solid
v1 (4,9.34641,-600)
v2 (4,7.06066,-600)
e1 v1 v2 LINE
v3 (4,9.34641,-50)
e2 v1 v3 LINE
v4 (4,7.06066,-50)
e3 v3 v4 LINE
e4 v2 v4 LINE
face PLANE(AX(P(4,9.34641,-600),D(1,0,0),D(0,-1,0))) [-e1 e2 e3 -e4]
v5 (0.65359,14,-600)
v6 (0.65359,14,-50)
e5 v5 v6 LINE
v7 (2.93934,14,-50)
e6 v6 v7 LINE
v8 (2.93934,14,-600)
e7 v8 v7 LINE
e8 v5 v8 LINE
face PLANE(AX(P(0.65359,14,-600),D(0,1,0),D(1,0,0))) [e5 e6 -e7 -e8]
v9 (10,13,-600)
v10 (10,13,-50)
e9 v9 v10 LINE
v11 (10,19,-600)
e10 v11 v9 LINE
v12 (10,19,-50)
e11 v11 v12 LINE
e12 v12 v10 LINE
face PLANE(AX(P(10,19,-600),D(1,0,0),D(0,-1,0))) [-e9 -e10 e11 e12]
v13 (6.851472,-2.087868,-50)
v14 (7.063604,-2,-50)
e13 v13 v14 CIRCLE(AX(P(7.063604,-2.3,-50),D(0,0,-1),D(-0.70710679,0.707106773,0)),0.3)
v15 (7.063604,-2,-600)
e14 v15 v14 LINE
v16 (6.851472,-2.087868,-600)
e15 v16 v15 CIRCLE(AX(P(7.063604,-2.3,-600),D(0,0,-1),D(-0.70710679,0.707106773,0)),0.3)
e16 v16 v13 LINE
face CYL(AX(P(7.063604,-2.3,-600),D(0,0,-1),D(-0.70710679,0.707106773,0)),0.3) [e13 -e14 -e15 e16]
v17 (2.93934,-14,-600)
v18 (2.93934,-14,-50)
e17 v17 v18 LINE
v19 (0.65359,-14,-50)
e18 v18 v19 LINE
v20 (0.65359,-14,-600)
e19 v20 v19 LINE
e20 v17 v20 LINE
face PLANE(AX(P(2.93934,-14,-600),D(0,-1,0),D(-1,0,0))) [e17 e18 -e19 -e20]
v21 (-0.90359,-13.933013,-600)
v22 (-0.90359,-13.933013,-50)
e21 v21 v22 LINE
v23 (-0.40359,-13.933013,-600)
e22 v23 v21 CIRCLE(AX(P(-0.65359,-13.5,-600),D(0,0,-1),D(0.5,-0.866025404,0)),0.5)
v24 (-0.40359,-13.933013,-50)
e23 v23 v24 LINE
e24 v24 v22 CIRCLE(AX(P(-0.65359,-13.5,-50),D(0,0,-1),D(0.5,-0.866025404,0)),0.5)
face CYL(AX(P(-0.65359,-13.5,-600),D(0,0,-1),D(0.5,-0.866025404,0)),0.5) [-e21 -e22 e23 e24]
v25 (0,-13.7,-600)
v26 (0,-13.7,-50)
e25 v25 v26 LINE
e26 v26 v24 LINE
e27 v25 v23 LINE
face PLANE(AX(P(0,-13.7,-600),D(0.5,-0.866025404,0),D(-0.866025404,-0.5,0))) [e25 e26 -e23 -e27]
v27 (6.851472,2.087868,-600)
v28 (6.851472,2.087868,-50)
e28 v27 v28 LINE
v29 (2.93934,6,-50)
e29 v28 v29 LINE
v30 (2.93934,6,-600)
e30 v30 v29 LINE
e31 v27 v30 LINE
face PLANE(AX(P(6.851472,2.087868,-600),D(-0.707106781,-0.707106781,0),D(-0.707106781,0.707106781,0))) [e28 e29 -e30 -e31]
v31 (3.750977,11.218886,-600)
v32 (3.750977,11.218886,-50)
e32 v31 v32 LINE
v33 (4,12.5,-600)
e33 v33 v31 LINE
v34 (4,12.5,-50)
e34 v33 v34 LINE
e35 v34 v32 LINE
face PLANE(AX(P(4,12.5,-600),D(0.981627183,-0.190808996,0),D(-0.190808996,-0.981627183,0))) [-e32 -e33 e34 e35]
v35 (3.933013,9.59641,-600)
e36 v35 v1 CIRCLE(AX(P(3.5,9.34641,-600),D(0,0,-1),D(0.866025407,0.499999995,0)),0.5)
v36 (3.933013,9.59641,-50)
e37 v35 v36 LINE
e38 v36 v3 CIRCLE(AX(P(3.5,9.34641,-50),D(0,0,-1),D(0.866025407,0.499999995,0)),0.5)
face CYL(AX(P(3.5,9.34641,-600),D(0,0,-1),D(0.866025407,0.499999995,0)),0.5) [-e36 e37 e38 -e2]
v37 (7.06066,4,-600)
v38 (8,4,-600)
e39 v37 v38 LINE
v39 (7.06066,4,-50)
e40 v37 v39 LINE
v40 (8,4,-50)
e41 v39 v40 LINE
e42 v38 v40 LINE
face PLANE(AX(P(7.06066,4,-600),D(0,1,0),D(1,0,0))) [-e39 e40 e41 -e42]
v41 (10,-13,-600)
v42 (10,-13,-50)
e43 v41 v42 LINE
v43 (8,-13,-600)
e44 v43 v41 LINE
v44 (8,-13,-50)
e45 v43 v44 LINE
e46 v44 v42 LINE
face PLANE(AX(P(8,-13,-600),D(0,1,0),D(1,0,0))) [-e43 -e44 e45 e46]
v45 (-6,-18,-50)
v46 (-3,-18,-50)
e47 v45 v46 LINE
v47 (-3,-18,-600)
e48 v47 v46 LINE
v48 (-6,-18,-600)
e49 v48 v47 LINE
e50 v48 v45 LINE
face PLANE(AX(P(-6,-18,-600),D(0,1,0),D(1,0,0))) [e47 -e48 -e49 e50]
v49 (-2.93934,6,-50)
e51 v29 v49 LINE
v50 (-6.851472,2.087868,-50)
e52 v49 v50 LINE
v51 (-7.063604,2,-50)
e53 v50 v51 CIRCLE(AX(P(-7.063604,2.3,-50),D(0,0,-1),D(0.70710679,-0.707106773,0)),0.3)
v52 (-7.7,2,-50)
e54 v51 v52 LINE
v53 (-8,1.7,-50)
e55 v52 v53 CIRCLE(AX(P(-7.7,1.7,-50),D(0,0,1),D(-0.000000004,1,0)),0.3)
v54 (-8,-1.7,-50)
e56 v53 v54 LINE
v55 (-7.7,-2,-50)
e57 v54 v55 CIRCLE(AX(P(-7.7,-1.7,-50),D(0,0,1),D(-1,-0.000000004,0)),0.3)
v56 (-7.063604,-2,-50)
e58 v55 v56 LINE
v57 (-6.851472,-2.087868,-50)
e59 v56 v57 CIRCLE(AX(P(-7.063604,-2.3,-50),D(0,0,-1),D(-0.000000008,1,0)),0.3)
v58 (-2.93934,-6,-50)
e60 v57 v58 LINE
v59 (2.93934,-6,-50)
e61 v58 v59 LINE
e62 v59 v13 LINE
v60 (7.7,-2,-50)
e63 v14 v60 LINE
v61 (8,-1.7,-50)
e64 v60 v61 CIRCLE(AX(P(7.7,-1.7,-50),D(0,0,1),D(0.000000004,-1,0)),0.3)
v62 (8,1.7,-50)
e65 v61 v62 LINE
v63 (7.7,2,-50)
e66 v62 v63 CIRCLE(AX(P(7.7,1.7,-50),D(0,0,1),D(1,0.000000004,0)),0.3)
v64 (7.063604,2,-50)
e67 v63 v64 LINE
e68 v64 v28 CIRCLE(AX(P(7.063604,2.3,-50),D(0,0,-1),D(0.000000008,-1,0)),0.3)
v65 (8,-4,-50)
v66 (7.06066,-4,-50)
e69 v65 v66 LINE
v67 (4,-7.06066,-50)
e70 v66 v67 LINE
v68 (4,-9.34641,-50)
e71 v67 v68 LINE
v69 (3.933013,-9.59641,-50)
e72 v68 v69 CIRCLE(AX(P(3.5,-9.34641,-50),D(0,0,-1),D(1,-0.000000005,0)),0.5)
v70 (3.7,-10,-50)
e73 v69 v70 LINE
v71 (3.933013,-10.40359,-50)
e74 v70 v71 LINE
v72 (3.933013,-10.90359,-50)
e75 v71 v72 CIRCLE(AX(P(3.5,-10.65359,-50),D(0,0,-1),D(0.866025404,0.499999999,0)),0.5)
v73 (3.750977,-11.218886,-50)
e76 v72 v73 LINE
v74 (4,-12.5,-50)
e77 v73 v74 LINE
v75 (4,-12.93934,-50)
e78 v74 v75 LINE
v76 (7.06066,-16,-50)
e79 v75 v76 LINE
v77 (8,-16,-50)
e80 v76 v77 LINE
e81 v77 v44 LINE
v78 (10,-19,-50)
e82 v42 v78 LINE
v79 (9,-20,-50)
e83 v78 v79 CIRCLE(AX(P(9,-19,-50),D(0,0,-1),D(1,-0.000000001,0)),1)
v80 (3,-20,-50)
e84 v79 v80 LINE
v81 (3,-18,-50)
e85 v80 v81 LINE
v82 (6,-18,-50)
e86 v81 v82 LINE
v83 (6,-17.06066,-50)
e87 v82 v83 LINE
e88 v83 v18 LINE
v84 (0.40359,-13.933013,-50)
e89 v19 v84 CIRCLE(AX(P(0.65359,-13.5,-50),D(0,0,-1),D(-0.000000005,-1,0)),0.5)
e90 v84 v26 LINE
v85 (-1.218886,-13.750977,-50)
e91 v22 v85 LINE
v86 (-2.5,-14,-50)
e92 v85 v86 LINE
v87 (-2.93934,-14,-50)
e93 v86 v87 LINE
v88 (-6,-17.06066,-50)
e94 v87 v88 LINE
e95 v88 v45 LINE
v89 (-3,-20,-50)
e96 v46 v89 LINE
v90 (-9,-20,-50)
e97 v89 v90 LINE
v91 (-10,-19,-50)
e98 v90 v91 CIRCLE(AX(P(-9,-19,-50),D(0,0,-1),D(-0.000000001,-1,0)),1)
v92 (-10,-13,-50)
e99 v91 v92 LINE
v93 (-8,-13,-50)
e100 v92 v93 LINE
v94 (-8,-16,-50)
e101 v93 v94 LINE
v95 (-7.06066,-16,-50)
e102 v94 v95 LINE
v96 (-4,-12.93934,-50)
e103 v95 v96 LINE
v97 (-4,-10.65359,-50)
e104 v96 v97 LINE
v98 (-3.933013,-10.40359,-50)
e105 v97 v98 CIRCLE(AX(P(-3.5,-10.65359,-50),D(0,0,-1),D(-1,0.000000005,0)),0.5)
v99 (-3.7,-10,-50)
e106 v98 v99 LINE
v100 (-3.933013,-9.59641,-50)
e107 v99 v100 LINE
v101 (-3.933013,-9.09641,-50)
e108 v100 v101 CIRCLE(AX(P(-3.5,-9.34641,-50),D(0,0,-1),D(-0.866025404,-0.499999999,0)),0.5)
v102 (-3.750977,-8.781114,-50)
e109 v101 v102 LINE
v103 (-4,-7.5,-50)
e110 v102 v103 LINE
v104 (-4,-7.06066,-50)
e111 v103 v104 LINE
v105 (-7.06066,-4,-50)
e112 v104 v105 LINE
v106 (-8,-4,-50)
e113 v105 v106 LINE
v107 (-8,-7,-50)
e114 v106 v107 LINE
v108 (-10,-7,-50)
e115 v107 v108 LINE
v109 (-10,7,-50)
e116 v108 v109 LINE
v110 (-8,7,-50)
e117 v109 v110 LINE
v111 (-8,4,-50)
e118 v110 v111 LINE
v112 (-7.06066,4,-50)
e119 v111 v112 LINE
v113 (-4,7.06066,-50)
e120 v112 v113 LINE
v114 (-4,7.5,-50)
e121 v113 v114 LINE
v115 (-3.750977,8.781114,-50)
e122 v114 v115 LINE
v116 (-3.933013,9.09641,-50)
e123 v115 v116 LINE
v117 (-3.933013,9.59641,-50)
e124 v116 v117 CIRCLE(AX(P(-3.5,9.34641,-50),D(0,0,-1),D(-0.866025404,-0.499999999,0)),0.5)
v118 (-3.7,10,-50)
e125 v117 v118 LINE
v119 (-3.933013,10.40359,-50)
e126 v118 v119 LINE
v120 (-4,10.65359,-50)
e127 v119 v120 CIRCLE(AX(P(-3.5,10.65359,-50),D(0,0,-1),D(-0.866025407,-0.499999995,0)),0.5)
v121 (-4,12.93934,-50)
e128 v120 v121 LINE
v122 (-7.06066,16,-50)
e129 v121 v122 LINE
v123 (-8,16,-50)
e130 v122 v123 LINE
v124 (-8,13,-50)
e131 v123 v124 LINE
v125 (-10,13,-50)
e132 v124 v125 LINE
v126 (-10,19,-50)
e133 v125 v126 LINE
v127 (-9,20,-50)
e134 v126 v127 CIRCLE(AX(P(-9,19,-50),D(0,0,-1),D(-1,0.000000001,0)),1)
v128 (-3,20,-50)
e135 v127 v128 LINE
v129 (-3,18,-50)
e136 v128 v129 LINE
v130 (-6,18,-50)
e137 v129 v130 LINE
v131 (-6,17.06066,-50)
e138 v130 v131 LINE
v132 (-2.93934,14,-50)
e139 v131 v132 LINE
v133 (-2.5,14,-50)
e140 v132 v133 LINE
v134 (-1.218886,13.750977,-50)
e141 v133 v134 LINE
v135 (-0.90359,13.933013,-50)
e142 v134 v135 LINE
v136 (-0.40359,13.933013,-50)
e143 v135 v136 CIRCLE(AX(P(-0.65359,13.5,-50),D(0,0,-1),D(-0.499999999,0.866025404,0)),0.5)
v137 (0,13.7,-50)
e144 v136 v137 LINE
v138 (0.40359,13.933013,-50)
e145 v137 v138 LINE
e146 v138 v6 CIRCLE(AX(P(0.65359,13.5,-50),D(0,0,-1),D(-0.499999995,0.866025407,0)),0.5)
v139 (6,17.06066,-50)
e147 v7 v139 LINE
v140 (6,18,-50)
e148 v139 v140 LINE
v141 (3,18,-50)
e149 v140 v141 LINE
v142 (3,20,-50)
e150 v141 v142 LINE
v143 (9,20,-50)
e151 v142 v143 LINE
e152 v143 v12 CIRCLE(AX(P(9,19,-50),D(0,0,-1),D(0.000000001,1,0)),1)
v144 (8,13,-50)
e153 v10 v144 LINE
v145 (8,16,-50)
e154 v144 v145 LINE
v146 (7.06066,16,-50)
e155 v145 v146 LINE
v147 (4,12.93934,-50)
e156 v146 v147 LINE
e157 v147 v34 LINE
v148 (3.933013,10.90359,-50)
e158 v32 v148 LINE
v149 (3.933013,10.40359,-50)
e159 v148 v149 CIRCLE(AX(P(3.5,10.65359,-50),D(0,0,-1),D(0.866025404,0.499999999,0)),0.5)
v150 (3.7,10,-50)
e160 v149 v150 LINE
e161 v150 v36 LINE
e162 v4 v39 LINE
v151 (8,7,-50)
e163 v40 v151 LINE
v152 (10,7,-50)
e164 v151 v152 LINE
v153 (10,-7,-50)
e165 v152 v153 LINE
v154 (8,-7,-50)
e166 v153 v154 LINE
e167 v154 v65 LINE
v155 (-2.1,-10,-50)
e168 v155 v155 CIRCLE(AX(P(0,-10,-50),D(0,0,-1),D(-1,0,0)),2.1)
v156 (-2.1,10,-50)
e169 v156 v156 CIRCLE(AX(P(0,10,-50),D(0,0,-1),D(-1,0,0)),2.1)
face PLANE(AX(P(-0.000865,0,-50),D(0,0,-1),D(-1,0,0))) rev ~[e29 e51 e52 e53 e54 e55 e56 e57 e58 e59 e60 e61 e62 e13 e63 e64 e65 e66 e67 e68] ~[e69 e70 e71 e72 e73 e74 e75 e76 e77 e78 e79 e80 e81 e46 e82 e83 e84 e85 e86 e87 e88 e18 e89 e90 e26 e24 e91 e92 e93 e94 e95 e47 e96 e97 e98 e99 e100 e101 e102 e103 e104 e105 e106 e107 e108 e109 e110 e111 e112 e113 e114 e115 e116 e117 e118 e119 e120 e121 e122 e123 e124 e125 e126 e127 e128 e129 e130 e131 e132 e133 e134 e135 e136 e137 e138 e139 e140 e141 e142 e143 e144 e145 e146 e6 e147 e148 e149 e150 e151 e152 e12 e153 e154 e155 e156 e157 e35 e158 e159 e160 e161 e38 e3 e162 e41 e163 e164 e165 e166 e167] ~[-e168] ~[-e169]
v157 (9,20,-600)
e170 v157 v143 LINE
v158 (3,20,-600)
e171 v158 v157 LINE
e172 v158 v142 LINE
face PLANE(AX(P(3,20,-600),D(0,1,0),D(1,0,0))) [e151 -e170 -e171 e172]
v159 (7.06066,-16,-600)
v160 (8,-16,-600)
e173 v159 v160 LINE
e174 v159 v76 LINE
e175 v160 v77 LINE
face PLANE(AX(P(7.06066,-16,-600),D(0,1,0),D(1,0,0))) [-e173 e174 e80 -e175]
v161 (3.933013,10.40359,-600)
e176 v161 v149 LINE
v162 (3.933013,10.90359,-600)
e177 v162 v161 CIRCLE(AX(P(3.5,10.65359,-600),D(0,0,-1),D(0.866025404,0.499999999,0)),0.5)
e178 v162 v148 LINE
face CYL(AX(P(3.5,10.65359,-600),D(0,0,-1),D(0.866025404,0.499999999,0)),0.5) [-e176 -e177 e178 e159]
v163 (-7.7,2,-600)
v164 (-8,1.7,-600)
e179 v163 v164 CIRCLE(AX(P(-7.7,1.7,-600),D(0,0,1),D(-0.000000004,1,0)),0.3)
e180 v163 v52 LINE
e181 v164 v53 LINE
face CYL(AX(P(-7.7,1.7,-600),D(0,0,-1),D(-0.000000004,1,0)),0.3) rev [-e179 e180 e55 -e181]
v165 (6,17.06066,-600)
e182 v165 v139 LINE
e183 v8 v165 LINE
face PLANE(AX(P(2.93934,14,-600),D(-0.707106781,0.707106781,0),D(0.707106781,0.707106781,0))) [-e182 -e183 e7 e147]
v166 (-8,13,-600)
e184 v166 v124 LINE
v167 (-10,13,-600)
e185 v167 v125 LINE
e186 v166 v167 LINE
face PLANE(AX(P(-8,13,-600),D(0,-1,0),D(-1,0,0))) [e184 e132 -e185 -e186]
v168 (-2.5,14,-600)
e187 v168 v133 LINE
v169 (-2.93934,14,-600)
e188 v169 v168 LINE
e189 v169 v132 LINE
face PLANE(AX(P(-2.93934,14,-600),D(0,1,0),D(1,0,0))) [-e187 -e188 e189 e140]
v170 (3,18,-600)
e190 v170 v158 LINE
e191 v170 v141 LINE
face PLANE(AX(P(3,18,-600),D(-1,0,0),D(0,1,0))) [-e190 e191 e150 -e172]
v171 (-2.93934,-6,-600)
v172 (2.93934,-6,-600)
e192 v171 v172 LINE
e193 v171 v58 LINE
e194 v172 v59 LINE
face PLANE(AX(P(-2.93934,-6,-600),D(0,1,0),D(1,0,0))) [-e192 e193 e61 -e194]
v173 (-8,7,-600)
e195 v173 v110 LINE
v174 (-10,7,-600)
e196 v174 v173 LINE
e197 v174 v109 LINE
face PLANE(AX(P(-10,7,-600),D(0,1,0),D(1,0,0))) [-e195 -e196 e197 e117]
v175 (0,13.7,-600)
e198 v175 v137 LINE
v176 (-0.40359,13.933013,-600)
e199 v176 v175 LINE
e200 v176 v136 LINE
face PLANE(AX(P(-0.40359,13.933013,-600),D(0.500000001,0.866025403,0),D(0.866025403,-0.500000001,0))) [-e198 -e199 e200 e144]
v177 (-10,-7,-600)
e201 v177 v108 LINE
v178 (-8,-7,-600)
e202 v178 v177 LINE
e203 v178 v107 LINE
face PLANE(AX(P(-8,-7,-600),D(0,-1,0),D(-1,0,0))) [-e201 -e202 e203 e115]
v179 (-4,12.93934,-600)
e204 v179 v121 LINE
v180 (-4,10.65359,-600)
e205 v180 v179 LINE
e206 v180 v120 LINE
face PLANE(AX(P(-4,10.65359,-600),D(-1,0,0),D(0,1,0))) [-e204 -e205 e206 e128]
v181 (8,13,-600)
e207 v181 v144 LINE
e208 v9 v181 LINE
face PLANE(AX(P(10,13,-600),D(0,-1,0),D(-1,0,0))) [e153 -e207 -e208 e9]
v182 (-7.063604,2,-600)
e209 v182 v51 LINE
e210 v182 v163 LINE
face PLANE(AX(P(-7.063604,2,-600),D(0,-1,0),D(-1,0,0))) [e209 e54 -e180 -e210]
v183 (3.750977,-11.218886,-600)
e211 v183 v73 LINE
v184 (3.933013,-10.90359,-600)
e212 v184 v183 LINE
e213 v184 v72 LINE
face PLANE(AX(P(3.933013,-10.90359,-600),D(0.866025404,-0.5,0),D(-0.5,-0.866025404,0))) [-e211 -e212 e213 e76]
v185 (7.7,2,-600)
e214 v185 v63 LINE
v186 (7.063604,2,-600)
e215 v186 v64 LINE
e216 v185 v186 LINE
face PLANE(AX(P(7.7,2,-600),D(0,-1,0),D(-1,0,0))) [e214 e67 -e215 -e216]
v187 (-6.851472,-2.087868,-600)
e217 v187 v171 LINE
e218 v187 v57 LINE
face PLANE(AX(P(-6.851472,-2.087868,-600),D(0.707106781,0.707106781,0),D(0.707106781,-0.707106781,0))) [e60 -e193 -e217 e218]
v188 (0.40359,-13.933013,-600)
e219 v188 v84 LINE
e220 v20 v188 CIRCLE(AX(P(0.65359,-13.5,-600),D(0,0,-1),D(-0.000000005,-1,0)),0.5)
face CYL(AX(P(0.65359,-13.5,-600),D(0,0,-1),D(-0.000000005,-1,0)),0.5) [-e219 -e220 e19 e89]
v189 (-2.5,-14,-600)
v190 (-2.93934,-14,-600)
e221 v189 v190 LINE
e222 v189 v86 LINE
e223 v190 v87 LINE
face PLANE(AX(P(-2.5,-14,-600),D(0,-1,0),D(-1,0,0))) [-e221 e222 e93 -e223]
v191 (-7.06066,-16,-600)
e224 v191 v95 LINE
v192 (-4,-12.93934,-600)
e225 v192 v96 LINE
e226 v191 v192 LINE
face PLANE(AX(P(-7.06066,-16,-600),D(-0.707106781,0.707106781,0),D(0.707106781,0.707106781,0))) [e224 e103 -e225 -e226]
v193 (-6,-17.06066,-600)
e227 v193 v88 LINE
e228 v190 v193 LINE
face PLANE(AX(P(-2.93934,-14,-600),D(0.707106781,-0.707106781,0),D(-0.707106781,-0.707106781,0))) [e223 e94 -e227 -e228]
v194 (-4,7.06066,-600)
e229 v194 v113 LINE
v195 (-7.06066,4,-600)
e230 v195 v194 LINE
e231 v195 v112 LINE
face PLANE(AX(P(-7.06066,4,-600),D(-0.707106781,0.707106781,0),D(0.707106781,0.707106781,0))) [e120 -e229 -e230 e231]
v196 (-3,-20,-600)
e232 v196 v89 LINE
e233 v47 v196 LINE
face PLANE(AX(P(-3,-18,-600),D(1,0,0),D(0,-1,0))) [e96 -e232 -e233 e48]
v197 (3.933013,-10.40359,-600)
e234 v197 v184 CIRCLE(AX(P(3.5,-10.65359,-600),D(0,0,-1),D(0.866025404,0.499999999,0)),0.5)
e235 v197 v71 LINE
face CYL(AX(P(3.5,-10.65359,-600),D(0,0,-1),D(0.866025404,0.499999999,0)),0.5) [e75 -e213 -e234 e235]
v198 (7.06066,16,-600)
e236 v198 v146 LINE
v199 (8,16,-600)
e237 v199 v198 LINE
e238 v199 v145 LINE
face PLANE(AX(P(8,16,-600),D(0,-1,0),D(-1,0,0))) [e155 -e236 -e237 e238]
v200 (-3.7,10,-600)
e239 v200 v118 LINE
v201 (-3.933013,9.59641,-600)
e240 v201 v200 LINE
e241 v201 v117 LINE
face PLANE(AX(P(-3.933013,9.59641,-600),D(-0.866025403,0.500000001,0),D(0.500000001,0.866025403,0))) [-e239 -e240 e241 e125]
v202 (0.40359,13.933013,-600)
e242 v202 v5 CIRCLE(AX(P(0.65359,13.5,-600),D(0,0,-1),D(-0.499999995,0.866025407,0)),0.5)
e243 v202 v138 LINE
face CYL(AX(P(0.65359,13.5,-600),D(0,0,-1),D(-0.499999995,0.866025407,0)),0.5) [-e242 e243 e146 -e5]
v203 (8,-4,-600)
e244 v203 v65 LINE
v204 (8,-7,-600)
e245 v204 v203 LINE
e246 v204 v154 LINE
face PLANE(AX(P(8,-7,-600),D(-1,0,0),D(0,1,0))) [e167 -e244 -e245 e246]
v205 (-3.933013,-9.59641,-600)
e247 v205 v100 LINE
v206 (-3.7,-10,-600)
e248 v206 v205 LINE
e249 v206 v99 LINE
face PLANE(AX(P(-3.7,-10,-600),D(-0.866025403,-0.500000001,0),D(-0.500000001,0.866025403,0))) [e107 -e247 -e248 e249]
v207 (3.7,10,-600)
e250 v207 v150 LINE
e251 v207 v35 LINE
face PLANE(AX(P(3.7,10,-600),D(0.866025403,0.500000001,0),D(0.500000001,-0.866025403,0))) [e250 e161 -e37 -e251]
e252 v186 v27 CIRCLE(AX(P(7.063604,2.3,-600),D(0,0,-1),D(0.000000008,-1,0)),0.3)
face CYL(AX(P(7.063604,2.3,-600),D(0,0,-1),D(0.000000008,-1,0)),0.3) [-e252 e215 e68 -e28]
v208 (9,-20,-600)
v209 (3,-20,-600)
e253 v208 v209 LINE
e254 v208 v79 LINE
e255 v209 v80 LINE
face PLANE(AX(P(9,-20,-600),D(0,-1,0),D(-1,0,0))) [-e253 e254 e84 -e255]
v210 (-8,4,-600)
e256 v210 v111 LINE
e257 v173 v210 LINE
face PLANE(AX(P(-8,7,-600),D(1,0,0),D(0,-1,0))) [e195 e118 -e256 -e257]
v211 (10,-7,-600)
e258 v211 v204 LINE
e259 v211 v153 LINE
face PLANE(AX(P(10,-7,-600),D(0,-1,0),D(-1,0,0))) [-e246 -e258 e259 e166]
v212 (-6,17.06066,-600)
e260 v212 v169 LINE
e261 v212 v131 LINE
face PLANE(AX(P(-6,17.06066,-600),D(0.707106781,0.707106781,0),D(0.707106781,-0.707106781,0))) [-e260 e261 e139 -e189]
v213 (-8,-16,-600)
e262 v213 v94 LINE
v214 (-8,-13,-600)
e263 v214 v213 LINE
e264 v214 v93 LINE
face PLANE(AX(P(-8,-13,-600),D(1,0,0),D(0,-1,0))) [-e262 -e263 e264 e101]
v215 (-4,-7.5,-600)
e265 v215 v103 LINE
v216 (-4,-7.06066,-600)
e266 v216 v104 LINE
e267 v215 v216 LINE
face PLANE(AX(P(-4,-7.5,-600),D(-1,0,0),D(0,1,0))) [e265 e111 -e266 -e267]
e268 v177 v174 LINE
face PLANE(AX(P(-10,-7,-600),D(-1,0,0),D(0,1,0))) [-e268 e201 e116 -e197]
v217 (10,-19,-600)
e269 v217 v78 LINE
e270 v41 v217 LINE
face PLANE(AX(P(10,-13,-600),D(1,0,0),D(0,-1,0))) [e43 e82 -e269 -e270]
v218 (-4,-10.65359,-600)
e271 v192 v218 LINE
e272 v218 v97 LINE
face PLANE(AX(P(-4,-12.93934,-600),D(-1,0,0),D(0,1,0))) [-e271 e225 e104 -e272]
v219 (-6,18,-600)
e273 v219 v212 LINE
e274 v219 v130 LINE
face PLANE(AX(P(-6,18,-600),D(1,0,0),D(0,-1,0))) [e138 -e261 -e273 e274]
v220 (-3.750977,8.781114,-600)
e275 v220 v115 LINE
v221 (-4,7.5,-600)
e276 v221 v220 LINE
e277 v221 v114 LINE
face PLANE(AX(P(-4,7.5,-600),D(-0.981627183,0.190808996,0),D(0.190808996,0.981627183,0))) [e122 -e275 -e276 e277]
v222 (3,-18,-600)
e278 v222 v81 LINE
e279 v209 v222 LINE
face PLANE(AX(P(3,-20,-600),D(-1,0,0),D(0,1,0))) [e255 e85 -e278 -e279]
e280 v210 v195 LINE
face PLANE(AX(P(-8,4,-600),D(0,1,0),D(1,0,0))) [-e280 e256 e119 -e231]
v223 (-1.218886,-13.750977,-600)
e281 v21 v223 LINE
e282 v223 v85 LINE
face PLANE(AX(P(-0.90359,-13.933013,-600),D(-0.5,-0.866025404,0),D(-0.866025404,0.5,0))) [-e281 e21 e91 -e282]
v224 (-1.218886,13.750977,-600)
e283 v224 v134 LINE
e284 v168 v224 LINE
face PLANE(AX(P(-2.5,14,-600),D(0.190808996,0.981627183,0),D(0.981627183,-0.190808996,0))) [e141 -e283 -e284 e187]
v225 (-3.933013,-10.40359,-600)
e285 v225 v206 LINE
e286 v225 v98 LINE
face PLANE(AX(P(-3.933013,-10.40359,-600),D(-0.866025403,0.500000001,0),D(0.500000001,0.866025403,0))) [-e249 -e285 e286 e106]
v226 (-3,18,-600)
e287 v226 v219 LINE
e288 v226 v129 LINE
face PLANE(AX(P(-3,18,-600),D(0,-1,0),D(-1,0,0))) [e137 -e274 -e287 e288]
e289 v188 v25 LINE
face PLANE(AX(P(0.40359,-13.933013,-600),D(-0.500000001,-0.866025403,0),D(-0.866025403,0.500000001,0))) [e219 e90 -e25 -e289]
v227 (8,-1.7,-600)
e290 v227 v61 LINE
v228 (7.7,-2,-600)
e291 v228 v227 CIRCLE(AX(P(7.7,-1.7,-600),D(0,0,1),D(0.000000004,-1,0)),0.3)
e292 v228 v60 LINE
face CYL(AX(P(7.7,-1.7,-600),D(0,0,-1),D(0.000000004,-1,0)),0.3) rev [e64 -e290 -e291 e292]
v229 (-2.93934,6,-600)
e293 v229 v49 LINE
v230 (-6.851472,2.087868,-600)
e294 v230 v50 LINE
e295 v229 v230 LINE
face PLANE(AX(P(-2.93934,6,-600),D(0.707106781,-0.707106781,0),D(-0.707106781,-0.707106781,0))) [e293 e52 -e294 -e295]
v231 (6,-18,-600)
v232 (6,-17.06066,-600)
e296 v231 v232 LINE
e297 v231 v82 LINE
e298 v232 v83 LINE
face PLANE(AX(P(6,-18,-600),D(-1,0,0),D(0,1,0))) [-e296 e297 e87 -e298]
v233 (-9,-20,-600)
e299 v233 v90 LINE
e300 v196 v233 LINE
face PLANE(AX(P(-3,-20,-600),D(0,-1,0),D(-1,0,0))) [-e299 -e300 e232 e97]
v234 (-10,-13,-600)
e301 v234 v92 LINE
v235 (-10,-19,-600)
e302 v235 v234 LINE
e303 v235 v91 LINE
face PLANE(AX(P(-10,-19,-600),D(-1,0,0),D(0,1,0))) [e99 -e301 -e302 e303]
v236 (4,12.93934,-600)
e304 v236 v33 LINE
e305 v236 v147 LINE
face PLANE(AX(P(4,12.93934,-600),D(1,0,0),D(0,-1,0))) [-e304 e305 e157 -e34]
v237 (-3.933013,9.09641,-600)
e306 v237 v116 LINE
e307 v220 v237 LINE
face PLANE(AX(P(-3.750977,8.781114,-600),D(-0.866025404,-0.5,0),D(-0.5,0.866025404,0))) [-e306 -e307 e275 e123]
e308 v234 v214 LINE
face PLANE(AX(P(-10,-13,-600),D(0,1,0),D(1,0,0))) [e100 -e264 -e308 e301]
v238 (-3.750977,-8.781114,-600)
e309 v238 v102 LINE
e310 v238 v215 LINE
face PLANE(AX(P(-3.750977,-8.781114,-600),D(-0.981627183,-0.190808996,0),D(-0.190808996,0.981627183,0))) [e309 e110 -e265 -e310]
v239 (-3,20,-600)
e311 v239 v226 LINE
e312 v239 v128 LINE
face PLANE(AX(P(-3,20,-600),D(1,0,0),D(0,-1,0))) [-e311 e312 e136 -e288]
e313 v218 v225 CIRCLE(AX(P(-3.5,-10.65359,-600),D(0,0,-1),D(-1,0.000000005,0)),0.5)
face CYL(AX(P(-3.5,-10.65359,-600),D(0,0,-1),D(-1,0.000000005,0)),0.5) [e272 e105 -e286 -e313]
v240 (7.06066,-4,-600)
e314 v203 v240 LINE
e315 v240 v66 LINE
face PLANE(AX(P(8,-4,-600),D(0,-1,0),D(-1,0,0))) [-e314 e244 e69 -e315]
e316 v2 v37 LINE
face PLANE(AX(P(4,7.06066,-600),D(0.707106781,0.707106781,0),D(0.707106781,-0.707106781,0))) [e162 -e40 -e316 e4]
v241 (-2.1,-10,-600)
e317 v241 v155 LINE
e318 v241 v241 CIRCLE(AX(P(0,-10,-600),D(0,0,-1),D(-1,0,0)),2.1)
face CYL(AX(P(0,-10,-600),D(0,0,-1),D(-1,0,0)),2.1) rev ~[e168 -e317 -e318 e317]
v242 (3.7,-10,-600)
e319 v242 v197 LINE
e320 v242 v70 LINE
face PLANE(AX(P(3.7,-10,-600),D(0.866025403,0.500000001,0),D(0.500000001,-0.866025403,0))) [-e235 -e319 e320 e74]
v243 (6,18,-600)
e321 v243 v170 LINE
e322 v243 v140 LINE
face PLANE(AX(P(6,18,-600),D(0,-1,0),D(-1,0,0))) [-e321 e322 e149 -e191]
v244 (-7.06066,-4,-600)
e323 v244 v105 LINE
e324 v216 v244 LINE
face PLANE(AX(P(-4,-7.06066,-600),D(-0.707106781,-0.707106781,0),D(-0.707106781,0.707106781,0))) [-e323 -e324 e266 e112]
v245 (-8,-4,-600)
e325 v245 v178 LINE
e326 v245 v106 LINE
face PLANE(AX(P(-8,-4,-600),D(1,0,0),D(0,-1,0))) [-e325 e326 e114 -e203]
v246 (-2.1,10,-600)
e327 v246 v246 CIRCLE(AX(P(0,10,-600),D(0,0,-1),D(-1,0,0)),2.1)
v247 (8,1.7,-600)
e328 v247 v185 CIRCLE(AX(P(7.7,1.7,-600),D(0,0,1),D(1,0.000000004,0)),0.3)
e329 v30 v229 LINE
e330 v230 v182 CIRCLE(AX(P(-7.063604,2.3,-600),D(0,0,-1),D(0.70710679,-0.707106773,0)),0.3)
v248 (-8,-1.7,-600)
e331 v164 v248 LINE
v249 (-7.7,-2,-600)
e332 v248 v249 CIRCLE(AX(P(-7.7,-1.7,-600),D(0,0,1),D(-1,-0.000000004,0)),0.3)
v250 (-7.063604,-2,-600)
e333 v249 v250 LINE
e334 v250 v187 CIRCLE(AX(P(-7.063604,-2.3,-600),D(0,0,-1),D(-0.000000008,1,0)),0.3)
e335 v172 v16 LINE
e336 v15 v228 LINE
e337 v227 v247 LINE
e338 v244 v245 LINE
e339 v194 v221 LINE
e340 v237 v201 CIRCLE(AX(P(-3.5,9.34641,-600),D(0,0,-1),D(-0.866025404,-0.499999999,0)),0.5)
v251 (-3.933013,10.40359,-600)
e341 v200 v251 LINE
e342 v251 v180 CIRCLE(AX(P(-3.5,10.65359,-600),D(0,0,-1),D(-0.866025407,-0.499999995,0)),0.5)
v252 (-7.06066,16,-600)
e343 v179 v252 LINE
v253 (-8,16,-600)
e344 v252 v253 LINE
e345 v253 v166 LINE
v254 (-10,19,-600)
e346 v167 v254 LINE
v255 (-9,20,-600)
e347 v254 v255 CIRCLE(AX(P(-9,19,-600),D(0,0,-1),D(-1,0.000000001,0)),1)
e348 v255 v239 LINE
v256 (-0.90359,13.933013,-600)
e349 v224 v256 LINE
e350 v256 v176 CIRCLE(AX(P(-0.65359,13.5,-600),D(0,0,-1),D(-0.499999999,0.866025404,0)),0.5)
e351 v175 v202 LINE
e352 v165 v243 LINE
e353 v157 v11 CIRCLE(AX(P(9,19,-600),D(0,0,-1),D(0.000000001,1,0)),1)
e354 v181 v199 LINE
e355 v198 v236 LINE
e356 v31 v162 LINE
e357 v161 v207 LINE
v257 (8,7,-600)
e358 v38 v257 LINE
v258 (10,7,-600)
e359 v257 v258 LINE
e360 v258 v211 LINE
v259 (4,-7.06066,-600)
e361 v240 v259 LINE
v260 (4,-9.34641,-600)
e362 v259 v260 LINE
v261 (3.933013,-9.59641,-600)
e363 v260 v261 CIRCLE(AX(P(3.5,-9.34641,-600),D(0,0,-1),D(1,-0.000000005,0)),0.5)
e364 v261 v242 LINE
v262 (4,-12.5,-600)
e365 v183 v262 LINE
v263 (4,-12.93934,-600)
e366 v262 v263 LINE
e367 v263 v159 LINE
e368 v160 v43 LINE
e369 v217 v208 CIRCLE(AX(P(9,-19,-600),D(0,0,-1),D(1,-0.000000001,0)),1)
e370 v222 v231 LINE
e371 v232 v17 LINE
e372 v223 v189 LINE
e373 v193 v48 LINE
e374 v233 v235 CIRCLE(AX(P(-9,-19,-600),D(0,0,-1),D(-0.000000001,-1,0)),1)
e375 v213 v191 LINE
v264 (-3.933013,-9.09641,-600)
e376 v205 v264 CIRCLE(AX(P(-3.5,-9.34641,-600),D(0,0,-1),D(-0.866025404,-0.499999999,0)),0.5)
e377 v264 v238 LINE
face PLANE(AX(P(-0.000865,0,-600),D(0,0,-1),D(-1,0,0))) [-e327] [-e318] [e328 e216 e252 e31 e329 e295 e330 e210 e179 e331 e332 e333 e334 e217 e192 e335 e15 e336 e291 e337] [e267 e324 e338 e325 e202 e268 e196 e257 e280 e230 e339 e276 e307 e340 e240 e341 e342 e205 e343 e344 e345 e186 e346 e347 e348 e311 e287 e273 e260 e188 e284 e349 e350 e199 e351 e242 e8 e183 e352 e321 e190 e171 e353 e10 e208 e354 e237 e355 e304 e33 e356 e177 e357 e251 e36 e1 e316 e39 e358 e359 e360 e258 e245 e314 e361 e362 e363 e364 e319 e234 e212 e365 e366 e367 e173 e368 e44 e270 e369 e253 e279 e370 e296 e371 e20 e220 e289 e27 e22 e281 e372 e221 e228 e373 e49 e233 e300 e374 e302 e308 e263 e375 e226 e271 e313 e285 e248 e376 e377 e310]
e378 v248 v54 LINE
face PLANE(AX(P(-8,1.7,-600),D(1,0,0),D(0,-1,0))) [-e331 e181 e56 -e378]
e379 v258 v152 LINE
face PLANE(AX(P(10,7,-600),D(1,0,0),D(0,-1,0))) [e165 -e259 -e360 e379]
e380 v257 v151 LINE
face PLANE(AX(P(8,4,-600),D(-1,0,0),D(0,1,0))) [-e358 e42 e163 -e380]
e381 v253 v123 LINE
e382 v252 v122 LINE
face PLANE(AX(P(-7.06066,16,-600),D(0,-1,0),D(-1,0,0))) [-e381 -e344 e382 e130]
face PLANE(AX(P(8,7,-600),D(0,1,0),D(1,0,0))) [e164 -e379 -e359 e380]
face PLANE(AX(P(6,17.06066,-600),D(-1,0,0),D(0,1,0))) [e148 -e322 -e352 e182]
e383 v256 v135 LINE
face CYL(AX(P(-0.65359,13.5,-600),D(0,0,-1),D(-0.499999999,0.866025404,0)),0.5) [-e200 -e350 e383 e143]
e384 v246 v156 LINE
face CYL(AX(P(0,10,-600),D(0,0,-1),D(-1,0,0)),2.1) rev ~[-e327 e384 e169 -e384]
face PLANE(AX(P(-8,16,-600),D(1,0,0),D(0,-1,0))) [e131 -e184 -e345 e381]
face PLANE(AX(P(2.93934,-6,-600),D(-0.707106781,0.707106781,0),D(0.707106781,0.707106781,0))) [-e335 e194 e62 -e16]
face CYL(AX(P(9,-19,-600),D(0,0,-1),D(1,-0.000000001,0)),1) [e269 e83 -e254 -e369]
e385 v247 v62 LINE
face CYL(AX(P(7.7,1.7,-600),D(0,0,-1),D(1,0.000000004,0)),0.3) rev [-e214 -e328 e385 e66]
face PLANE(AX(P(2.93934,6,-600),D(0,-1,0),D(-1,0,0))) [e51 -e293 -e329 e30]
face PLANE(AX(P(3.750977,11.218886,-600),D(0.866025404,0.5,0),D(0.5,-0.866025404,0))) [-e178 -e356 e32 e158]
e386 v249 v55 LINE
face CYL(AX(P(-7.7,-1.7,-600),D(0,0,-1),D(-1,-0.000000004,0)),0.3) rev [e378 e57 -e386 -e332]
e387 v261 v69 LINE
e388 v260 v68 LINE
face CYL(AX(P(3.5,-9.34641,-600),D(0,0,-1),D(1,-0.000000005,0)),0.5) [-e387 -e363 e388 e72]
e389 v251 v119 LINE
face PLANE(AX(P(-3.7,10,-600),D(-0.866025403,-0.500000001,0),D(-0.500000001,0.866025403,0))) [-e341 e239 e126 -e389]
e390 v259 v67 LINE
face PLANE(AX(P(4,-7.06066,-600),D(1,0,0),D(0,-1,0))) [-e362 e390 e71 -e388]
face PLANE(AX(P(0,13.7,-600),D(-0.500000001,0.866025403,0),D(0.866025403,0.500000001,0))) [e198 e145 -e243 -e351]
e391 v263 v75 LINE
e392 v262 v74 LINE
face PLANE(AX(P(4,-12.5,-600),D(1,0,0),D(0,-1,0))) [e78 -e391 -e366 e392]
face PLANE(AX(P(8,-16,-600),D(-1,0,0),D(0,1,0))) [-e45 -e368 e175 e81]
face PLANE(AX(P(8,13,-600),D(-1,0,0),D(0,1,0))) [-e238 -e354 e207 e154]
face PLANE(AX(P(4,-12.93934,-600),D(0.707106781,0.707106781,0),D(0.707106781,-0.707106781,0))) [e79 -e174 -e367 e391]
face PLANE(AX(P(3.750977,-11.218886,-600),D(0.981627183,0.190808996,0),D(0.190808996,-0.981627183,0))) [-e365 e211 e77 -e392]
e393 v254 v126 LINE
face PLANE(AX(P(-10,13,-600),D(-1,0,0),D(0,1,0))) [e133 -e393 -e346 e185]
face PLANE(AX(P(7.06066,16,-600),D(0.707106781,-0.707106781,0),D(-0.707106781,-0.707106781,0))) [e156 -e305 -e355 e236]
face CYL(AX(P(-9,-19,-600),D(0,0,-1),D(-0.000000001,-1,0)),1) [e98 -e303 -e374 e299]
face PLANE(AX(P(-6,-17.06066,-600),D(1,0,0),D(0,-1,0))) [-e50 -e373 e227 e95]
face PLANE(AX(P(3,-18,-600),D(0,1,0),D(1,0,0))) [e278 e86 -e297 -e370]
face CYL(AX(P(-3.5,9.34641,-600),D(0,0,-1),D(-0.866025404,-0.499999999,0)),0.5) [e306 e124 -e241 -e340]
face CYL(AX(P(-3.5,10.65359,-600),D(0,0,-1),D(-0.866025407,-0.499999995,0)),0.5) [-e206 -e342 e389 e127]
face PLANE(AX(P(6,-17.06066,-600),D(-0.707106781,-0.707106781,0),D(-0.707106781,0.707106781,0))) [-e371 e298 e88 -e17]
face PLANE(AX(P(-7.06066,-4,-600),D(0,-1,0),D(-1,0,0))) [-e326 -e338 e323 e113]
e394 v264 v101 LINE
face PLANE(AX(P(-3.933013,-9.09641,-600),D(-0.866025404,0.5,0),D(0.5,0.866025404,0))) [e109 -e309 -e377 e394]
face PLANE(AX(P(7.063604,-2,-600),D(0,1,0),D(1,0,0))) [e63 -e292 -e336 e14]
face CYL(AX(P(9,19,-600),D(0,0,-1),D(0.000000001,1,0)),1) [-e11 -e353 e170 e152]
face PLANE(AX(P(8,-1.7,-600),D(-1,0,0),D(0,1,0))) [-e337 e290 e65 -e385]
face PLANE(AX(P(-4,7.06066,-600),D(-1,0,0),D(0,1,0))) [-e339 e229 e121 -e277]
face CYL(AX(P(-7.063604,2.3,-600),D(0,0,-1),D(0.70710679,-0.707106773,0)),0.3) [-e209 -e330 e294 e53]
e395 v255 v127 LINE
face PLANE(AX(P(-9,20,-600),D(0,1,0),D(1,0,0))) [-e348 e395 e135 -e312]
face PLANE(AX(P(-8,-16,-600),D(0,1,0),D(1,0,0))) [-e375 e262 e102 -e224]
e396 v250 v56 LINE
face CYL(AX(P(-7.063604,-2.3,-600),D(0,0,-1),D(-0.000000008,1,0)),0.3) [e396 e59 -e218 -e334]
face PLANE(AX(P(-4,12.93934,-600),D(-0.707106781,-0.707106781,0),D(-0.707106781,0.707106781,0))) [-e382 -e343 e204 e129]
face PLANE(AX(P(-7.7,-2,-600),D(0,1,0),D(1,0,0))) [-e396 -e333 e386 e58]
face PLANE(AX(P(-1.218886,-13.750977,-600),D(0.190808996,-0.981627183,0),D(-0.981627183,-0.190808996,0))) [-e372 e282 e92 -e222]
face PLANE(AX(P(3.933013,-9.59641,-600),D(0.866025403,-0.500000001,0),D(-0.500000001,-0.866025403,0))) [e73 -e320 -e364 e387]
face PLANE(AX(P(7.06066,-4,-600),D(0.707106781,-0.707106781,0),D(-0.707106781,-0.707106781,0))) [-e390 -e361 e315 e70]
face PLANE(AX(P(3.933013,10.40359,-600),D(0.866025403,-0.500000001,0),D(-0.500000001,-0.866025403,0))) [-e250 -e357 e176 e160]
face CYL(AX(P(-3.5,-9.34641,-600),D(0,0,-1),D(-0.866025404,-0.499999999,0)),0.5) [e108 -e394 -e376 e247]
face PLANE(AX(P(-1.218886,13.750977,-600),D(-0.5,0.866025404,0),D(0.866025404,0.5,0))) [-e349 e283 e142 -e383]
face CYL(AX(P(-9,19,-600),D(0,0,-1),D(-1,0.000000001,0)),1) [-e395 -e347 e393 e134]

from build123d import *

# Parameters (mm, degrees)
SKETCH1_R           = 2.1
BOSS_EXTRUDE1_DEPTH = 550


with BuildPart() as part:
    # Sketch1 → Boss-Extrude1 (new body)
    with BuildSketch(Plane(origin=(0, 0, -600), x_dir=(-1, 0, 0), z_dir=(0, 0, -1))):
        with BuildLine():
            Line((10, -7), (10, 7))
            Line((10, 7), (8, 7))
            Line((8, 7), (8, 4))
            Line((8, 4), (7.060660172, 4))
            Line((7.060660172, 4), (4, 7.060660172))
            Line((4, 7.060660172), (4, 7.5))
            Line((4, 7.5), (3.750976592, 8.781114371))
            Line((3.750976592, 8.781114371), (3.933012702, 9.096410162))
            ThreePointArc((3.933012702, 9.096410162), (4, 9.346410162), (3.933012702, 9.596410162))
            Line((3.933012702, 9.596410162), (3.7, 10))
            Line((3.7, 10), (3.933012702, 10.403589838))
            ThreePointArc((3.933012702, 10.403589838), (3.982962913, 10.524180316), (4, 10.653589838))
            Line((4, 10.653589838), (4, 12.939339828))
            Line((4, 12.939339828), (7.060660172, 16))
            Line((7.060660172, 16), (8, 16))
            Line((8, 16), (8, 13))
            Line((8, 13), (10, 13))
            Line((10, 13), (10, 19))
            ThreePointArc((10, 19), (9.707106781, 19.707106781), (9, 20))
            Line((9, 20), (3, 20))
            Line((3, 20), (3, 18))
            Line((3, 18), (6, 18))
            Line((6, 18), (6, 17.060660172))
            Line((6, 17.060660172), (2.939339828, 14))
            Line((2.939339828, 14), (2.5, 14))
            Line((2.5, 14), (1.218885629, 13.750976592))
            Line((1.218885629, 13.750976592), (0.903589838, 13.933012702))
            ThreePointArc((0.903589838, 13.933012702), (0.653589838, 14), (0.403589838, 13.933012702))
            Line((0.403589838, 13.933012702), (0, 13.7))
            Line((0, 13.7), (-0.403589838, 13.933012702))
            ThreePointArc((-0.403589838, 13.933012702), (-0.524180316, 13.982962913), (-0.653589838, 14))
            Line((-0.653589838, 14), (-2.939339828, 14))
            Line((-2.939339828, 14), (-6, 17.060660172))
            Line((-6, 17.060660172), (-6, 18))
            Line((-6, 18), (-3, 18))
            Line((-3, 18), (-3, 20))
            Line((-3, 20), (-9, 20))
            ThreePointArc((-9, 20), (-9.707106781, 19.707106781), (-10, 19))
            Line((-10, 19), (-10, 13))
            Line((-10, 13), (-8, 13))
            Line((-8, 13), (-8, 16))
            Line((-8, 16), (-7.060660172, 16))
            Line((-7.060660172, 16), (-4, 12.939339828))
            Line((-4, 12.939339828), (-4, 12.5))
            Line((-4, 12.5), (-3.750976592, 11.218885629))
            Line((-3.750976592, 11.218885629), (-3.933012702, 10.903589838))
            ThreePointArc((-3.933012702, 10.903589838), (-4, 10.653589838), (-3.933012702, 10.403589838))
            Line((-3.933012702, 10.403589838), (-3.7, 10))
            Line((-3.7, 10), (-3.933012702, 9.596410162))
            ThreePointArc((-3.933012702, 9.596410162), (-3.982962913, 9.475819684), (-4, 9.346410162))
            Line((-4, 9.346410162), (-4, 7.060660172))
            Line((-4, 7.060660172), (-7.060660172, 4))
            Line((-7.060660172, 4), (-8, 4))
            Line((-8, 4), (-8, 7))
            Line((-8, 7), (-10, 7))
            Line((-10, 7), (-10, -7))
            Line((-10, -7), (-8, -7))
            Line((-8, -7), (-8, -4))
            Line((-8, -4), (-7.060660172, -4))
            Line((-7.060660172, -4), (-4, -7.060660172))
            Line((-4, -7.060660172), (-4, -9.346410162))
            ThreePointArc((-4, -9.346410162), (-3.982962913, -9.475819684), (-3.933012702, -9.596410162))
            Line((-3.933012702, -9.596410162), (-3.7, -10))
            Line((-3.7, -10), (-3.933012702, -10.403589838))
            ThreePointArc((-3.933012702, -10.403589838), (-4, -10.653589838), (-3.933012702, -10.903589838))
            Line((-3.933012702, -10.903589838), (-3.750976592, -11.218885629))
            Line((-3.750976592, -11.218885629), (-4, -12.5))
            Line((-4, -12.5), (-4, -12.939339828))
            Line((-4, -12.939339828), (-7.060660172, -16))
            Line((-7.060660172, -16), (-8, -16))
            Line((-8, -16), (-8, -13))
            Line((-8, -13), (-10, -13))
            Line((-10, -13), (-10, -19))
            ThreePointArc((-10, -19), (-9.707106781, -19.707106781), (-9, -20))
            Line((-9, -20), (-3, -20))
            Line((-3, -20), (-3, -18))
            Line((-3, -18), (-6, -18))
            Line((-6, -18), (-6, -17.060660172))
            Line((-6, -17.060660172), (-2.939339828, -14))
            Line((-2.939339828, -14), (-0.653589838, -14))
            ThreePointArc((-0.653589838, -14), (-0.524180316, -13.982962913), (-0.403589838, -13.933012702))
            Line((-0.403589838, -13.933012702), (0, -13.7))
            Line((0, -13.7), (0.403589839, -13.933012702))
            ThreePointArc((0.403589839, -13.933012702), (0.653589839, -14), (0.903589838, -13.933012702))
            Line((0.903589838, -13.933012702), (1.218885629, -13.750976592))
            Line((1.218885629, -13.750976592), (2.5, -14))
            Line((2.5, -14), (2.939339828, -14))
            Line((2.939339828, -14), (6, -17.060660172))
            Line((6, -17.060660172), (6, -18))
            Line((6, -18), (3, -18))
            Line((3, -18), (3, -20))
            Line((3, -20), (9, -20))
            ThreePointArc((9, -20), (9.707106781, -19.707106781), (10, -19))
            Line((10, -19), (10, -13))
            Line((10, -13), (8, -13))
            Line((8, -13), (8, -16))
            Line((8, -16), (7.060660172, -16))
            Line((7.060660172, -16), (4, -12.939339828))
            Line((4, -12.939339828), (4, -10.653589838))
            ThreePointArc((4, -10.653589838), (3.982962913, -10.524180316), (3.933012702, -10.403589838))
            Line((3.933012702, -10.403589838), (3.7, -10))
            Line((3.7, -10), (3.933012702, -9.596410162))
            ThreePointArc((3.933012702, -9.596410162), (4, -9.346410162), (3.933012702, -9.096410162))
            Line((3.933012702, -9.096410162), (3.750976592, -8.781114371))
            Line((3.750976592, -8.781114371), (4, -7.5))
            Line((4, -7.5), (4, -7.060660172))
            Line((4, -7.060660172), (7.060660172, -4))
            Line((7.060660172, -4), (8, -4))
            Line((8, -4), (8, -7))
            Line((8, -7), (10, -7))
        make_face()
        with Locations((0, -10)):
            Circle(SKETCH1_R, mode=Mode.SUBTRACT)
        with Locations((0, 10)):
            Circle(SKETCH1_R, mode=Mode.SUBTRACT)
        with BuildLine():
            Line((8, 1.7), (8, -1.7))
            ThreePointArc((8, -1.7), (7.912132034, -1.912132034), (7.7, -2))
            Line((7.7, -2), (7.063603897, -2))
            ThreePointArc((7.063603897, -2), (6.948798867, -2.02283614), (6.851471863, -2.087867966))
            Line((6.851471863, -2.087867966), (2.939339828, -6))
            Line((2.939339828, -6), (-2.939339828, -6))
            Line((-2.939339828, -6), (-6.851471863, -2.087867966))
            ThreePointArc((-6.851471863, -2.087867966), (-6.948798867, -2.02283614), (-7.063603897, -2))
            Line((-7.063603897, -2), (-7.7, -2))
            ThreePointArc((-7.7, -2), (-7.912132034, -1.912132034), (-8, -1.7))
            Line((-8, -1.7), (-8, 1.7))
            ThreePointArc((-8, 1.7), (-7.912132034, 1.912132034), (-7.7, 2))
            Line((-7.7, 2), (-7.063603897, 2))
            ThreePointArc((-7.063603897, 2), (-6.948798867, 2.02283614), (-6.851471863, 2.087867966))
            Line((-6.851471863, 2.087867966), (-2.939339828, 6))
            Line((-2.939339828, 6), (2.939339828, 6))
            Line((2.939339828, 6), (6.851471863, 2.087867966))
            ThreePointArc((6.851471863, 2.087867966), (6.948798867, 2.02283614), (7.063603897, 2))
            Line((7.063603897, 2), (7.7, 2))
            ThreePointArc((7.7, 2), (7.912132034, 1.912132034), (8, 1.7))
        make_face(mode=Mode.SUBTRACT)
    extrude(amount=-BOSS_EXTRUDE1_DEPTH)


solid = part.part
